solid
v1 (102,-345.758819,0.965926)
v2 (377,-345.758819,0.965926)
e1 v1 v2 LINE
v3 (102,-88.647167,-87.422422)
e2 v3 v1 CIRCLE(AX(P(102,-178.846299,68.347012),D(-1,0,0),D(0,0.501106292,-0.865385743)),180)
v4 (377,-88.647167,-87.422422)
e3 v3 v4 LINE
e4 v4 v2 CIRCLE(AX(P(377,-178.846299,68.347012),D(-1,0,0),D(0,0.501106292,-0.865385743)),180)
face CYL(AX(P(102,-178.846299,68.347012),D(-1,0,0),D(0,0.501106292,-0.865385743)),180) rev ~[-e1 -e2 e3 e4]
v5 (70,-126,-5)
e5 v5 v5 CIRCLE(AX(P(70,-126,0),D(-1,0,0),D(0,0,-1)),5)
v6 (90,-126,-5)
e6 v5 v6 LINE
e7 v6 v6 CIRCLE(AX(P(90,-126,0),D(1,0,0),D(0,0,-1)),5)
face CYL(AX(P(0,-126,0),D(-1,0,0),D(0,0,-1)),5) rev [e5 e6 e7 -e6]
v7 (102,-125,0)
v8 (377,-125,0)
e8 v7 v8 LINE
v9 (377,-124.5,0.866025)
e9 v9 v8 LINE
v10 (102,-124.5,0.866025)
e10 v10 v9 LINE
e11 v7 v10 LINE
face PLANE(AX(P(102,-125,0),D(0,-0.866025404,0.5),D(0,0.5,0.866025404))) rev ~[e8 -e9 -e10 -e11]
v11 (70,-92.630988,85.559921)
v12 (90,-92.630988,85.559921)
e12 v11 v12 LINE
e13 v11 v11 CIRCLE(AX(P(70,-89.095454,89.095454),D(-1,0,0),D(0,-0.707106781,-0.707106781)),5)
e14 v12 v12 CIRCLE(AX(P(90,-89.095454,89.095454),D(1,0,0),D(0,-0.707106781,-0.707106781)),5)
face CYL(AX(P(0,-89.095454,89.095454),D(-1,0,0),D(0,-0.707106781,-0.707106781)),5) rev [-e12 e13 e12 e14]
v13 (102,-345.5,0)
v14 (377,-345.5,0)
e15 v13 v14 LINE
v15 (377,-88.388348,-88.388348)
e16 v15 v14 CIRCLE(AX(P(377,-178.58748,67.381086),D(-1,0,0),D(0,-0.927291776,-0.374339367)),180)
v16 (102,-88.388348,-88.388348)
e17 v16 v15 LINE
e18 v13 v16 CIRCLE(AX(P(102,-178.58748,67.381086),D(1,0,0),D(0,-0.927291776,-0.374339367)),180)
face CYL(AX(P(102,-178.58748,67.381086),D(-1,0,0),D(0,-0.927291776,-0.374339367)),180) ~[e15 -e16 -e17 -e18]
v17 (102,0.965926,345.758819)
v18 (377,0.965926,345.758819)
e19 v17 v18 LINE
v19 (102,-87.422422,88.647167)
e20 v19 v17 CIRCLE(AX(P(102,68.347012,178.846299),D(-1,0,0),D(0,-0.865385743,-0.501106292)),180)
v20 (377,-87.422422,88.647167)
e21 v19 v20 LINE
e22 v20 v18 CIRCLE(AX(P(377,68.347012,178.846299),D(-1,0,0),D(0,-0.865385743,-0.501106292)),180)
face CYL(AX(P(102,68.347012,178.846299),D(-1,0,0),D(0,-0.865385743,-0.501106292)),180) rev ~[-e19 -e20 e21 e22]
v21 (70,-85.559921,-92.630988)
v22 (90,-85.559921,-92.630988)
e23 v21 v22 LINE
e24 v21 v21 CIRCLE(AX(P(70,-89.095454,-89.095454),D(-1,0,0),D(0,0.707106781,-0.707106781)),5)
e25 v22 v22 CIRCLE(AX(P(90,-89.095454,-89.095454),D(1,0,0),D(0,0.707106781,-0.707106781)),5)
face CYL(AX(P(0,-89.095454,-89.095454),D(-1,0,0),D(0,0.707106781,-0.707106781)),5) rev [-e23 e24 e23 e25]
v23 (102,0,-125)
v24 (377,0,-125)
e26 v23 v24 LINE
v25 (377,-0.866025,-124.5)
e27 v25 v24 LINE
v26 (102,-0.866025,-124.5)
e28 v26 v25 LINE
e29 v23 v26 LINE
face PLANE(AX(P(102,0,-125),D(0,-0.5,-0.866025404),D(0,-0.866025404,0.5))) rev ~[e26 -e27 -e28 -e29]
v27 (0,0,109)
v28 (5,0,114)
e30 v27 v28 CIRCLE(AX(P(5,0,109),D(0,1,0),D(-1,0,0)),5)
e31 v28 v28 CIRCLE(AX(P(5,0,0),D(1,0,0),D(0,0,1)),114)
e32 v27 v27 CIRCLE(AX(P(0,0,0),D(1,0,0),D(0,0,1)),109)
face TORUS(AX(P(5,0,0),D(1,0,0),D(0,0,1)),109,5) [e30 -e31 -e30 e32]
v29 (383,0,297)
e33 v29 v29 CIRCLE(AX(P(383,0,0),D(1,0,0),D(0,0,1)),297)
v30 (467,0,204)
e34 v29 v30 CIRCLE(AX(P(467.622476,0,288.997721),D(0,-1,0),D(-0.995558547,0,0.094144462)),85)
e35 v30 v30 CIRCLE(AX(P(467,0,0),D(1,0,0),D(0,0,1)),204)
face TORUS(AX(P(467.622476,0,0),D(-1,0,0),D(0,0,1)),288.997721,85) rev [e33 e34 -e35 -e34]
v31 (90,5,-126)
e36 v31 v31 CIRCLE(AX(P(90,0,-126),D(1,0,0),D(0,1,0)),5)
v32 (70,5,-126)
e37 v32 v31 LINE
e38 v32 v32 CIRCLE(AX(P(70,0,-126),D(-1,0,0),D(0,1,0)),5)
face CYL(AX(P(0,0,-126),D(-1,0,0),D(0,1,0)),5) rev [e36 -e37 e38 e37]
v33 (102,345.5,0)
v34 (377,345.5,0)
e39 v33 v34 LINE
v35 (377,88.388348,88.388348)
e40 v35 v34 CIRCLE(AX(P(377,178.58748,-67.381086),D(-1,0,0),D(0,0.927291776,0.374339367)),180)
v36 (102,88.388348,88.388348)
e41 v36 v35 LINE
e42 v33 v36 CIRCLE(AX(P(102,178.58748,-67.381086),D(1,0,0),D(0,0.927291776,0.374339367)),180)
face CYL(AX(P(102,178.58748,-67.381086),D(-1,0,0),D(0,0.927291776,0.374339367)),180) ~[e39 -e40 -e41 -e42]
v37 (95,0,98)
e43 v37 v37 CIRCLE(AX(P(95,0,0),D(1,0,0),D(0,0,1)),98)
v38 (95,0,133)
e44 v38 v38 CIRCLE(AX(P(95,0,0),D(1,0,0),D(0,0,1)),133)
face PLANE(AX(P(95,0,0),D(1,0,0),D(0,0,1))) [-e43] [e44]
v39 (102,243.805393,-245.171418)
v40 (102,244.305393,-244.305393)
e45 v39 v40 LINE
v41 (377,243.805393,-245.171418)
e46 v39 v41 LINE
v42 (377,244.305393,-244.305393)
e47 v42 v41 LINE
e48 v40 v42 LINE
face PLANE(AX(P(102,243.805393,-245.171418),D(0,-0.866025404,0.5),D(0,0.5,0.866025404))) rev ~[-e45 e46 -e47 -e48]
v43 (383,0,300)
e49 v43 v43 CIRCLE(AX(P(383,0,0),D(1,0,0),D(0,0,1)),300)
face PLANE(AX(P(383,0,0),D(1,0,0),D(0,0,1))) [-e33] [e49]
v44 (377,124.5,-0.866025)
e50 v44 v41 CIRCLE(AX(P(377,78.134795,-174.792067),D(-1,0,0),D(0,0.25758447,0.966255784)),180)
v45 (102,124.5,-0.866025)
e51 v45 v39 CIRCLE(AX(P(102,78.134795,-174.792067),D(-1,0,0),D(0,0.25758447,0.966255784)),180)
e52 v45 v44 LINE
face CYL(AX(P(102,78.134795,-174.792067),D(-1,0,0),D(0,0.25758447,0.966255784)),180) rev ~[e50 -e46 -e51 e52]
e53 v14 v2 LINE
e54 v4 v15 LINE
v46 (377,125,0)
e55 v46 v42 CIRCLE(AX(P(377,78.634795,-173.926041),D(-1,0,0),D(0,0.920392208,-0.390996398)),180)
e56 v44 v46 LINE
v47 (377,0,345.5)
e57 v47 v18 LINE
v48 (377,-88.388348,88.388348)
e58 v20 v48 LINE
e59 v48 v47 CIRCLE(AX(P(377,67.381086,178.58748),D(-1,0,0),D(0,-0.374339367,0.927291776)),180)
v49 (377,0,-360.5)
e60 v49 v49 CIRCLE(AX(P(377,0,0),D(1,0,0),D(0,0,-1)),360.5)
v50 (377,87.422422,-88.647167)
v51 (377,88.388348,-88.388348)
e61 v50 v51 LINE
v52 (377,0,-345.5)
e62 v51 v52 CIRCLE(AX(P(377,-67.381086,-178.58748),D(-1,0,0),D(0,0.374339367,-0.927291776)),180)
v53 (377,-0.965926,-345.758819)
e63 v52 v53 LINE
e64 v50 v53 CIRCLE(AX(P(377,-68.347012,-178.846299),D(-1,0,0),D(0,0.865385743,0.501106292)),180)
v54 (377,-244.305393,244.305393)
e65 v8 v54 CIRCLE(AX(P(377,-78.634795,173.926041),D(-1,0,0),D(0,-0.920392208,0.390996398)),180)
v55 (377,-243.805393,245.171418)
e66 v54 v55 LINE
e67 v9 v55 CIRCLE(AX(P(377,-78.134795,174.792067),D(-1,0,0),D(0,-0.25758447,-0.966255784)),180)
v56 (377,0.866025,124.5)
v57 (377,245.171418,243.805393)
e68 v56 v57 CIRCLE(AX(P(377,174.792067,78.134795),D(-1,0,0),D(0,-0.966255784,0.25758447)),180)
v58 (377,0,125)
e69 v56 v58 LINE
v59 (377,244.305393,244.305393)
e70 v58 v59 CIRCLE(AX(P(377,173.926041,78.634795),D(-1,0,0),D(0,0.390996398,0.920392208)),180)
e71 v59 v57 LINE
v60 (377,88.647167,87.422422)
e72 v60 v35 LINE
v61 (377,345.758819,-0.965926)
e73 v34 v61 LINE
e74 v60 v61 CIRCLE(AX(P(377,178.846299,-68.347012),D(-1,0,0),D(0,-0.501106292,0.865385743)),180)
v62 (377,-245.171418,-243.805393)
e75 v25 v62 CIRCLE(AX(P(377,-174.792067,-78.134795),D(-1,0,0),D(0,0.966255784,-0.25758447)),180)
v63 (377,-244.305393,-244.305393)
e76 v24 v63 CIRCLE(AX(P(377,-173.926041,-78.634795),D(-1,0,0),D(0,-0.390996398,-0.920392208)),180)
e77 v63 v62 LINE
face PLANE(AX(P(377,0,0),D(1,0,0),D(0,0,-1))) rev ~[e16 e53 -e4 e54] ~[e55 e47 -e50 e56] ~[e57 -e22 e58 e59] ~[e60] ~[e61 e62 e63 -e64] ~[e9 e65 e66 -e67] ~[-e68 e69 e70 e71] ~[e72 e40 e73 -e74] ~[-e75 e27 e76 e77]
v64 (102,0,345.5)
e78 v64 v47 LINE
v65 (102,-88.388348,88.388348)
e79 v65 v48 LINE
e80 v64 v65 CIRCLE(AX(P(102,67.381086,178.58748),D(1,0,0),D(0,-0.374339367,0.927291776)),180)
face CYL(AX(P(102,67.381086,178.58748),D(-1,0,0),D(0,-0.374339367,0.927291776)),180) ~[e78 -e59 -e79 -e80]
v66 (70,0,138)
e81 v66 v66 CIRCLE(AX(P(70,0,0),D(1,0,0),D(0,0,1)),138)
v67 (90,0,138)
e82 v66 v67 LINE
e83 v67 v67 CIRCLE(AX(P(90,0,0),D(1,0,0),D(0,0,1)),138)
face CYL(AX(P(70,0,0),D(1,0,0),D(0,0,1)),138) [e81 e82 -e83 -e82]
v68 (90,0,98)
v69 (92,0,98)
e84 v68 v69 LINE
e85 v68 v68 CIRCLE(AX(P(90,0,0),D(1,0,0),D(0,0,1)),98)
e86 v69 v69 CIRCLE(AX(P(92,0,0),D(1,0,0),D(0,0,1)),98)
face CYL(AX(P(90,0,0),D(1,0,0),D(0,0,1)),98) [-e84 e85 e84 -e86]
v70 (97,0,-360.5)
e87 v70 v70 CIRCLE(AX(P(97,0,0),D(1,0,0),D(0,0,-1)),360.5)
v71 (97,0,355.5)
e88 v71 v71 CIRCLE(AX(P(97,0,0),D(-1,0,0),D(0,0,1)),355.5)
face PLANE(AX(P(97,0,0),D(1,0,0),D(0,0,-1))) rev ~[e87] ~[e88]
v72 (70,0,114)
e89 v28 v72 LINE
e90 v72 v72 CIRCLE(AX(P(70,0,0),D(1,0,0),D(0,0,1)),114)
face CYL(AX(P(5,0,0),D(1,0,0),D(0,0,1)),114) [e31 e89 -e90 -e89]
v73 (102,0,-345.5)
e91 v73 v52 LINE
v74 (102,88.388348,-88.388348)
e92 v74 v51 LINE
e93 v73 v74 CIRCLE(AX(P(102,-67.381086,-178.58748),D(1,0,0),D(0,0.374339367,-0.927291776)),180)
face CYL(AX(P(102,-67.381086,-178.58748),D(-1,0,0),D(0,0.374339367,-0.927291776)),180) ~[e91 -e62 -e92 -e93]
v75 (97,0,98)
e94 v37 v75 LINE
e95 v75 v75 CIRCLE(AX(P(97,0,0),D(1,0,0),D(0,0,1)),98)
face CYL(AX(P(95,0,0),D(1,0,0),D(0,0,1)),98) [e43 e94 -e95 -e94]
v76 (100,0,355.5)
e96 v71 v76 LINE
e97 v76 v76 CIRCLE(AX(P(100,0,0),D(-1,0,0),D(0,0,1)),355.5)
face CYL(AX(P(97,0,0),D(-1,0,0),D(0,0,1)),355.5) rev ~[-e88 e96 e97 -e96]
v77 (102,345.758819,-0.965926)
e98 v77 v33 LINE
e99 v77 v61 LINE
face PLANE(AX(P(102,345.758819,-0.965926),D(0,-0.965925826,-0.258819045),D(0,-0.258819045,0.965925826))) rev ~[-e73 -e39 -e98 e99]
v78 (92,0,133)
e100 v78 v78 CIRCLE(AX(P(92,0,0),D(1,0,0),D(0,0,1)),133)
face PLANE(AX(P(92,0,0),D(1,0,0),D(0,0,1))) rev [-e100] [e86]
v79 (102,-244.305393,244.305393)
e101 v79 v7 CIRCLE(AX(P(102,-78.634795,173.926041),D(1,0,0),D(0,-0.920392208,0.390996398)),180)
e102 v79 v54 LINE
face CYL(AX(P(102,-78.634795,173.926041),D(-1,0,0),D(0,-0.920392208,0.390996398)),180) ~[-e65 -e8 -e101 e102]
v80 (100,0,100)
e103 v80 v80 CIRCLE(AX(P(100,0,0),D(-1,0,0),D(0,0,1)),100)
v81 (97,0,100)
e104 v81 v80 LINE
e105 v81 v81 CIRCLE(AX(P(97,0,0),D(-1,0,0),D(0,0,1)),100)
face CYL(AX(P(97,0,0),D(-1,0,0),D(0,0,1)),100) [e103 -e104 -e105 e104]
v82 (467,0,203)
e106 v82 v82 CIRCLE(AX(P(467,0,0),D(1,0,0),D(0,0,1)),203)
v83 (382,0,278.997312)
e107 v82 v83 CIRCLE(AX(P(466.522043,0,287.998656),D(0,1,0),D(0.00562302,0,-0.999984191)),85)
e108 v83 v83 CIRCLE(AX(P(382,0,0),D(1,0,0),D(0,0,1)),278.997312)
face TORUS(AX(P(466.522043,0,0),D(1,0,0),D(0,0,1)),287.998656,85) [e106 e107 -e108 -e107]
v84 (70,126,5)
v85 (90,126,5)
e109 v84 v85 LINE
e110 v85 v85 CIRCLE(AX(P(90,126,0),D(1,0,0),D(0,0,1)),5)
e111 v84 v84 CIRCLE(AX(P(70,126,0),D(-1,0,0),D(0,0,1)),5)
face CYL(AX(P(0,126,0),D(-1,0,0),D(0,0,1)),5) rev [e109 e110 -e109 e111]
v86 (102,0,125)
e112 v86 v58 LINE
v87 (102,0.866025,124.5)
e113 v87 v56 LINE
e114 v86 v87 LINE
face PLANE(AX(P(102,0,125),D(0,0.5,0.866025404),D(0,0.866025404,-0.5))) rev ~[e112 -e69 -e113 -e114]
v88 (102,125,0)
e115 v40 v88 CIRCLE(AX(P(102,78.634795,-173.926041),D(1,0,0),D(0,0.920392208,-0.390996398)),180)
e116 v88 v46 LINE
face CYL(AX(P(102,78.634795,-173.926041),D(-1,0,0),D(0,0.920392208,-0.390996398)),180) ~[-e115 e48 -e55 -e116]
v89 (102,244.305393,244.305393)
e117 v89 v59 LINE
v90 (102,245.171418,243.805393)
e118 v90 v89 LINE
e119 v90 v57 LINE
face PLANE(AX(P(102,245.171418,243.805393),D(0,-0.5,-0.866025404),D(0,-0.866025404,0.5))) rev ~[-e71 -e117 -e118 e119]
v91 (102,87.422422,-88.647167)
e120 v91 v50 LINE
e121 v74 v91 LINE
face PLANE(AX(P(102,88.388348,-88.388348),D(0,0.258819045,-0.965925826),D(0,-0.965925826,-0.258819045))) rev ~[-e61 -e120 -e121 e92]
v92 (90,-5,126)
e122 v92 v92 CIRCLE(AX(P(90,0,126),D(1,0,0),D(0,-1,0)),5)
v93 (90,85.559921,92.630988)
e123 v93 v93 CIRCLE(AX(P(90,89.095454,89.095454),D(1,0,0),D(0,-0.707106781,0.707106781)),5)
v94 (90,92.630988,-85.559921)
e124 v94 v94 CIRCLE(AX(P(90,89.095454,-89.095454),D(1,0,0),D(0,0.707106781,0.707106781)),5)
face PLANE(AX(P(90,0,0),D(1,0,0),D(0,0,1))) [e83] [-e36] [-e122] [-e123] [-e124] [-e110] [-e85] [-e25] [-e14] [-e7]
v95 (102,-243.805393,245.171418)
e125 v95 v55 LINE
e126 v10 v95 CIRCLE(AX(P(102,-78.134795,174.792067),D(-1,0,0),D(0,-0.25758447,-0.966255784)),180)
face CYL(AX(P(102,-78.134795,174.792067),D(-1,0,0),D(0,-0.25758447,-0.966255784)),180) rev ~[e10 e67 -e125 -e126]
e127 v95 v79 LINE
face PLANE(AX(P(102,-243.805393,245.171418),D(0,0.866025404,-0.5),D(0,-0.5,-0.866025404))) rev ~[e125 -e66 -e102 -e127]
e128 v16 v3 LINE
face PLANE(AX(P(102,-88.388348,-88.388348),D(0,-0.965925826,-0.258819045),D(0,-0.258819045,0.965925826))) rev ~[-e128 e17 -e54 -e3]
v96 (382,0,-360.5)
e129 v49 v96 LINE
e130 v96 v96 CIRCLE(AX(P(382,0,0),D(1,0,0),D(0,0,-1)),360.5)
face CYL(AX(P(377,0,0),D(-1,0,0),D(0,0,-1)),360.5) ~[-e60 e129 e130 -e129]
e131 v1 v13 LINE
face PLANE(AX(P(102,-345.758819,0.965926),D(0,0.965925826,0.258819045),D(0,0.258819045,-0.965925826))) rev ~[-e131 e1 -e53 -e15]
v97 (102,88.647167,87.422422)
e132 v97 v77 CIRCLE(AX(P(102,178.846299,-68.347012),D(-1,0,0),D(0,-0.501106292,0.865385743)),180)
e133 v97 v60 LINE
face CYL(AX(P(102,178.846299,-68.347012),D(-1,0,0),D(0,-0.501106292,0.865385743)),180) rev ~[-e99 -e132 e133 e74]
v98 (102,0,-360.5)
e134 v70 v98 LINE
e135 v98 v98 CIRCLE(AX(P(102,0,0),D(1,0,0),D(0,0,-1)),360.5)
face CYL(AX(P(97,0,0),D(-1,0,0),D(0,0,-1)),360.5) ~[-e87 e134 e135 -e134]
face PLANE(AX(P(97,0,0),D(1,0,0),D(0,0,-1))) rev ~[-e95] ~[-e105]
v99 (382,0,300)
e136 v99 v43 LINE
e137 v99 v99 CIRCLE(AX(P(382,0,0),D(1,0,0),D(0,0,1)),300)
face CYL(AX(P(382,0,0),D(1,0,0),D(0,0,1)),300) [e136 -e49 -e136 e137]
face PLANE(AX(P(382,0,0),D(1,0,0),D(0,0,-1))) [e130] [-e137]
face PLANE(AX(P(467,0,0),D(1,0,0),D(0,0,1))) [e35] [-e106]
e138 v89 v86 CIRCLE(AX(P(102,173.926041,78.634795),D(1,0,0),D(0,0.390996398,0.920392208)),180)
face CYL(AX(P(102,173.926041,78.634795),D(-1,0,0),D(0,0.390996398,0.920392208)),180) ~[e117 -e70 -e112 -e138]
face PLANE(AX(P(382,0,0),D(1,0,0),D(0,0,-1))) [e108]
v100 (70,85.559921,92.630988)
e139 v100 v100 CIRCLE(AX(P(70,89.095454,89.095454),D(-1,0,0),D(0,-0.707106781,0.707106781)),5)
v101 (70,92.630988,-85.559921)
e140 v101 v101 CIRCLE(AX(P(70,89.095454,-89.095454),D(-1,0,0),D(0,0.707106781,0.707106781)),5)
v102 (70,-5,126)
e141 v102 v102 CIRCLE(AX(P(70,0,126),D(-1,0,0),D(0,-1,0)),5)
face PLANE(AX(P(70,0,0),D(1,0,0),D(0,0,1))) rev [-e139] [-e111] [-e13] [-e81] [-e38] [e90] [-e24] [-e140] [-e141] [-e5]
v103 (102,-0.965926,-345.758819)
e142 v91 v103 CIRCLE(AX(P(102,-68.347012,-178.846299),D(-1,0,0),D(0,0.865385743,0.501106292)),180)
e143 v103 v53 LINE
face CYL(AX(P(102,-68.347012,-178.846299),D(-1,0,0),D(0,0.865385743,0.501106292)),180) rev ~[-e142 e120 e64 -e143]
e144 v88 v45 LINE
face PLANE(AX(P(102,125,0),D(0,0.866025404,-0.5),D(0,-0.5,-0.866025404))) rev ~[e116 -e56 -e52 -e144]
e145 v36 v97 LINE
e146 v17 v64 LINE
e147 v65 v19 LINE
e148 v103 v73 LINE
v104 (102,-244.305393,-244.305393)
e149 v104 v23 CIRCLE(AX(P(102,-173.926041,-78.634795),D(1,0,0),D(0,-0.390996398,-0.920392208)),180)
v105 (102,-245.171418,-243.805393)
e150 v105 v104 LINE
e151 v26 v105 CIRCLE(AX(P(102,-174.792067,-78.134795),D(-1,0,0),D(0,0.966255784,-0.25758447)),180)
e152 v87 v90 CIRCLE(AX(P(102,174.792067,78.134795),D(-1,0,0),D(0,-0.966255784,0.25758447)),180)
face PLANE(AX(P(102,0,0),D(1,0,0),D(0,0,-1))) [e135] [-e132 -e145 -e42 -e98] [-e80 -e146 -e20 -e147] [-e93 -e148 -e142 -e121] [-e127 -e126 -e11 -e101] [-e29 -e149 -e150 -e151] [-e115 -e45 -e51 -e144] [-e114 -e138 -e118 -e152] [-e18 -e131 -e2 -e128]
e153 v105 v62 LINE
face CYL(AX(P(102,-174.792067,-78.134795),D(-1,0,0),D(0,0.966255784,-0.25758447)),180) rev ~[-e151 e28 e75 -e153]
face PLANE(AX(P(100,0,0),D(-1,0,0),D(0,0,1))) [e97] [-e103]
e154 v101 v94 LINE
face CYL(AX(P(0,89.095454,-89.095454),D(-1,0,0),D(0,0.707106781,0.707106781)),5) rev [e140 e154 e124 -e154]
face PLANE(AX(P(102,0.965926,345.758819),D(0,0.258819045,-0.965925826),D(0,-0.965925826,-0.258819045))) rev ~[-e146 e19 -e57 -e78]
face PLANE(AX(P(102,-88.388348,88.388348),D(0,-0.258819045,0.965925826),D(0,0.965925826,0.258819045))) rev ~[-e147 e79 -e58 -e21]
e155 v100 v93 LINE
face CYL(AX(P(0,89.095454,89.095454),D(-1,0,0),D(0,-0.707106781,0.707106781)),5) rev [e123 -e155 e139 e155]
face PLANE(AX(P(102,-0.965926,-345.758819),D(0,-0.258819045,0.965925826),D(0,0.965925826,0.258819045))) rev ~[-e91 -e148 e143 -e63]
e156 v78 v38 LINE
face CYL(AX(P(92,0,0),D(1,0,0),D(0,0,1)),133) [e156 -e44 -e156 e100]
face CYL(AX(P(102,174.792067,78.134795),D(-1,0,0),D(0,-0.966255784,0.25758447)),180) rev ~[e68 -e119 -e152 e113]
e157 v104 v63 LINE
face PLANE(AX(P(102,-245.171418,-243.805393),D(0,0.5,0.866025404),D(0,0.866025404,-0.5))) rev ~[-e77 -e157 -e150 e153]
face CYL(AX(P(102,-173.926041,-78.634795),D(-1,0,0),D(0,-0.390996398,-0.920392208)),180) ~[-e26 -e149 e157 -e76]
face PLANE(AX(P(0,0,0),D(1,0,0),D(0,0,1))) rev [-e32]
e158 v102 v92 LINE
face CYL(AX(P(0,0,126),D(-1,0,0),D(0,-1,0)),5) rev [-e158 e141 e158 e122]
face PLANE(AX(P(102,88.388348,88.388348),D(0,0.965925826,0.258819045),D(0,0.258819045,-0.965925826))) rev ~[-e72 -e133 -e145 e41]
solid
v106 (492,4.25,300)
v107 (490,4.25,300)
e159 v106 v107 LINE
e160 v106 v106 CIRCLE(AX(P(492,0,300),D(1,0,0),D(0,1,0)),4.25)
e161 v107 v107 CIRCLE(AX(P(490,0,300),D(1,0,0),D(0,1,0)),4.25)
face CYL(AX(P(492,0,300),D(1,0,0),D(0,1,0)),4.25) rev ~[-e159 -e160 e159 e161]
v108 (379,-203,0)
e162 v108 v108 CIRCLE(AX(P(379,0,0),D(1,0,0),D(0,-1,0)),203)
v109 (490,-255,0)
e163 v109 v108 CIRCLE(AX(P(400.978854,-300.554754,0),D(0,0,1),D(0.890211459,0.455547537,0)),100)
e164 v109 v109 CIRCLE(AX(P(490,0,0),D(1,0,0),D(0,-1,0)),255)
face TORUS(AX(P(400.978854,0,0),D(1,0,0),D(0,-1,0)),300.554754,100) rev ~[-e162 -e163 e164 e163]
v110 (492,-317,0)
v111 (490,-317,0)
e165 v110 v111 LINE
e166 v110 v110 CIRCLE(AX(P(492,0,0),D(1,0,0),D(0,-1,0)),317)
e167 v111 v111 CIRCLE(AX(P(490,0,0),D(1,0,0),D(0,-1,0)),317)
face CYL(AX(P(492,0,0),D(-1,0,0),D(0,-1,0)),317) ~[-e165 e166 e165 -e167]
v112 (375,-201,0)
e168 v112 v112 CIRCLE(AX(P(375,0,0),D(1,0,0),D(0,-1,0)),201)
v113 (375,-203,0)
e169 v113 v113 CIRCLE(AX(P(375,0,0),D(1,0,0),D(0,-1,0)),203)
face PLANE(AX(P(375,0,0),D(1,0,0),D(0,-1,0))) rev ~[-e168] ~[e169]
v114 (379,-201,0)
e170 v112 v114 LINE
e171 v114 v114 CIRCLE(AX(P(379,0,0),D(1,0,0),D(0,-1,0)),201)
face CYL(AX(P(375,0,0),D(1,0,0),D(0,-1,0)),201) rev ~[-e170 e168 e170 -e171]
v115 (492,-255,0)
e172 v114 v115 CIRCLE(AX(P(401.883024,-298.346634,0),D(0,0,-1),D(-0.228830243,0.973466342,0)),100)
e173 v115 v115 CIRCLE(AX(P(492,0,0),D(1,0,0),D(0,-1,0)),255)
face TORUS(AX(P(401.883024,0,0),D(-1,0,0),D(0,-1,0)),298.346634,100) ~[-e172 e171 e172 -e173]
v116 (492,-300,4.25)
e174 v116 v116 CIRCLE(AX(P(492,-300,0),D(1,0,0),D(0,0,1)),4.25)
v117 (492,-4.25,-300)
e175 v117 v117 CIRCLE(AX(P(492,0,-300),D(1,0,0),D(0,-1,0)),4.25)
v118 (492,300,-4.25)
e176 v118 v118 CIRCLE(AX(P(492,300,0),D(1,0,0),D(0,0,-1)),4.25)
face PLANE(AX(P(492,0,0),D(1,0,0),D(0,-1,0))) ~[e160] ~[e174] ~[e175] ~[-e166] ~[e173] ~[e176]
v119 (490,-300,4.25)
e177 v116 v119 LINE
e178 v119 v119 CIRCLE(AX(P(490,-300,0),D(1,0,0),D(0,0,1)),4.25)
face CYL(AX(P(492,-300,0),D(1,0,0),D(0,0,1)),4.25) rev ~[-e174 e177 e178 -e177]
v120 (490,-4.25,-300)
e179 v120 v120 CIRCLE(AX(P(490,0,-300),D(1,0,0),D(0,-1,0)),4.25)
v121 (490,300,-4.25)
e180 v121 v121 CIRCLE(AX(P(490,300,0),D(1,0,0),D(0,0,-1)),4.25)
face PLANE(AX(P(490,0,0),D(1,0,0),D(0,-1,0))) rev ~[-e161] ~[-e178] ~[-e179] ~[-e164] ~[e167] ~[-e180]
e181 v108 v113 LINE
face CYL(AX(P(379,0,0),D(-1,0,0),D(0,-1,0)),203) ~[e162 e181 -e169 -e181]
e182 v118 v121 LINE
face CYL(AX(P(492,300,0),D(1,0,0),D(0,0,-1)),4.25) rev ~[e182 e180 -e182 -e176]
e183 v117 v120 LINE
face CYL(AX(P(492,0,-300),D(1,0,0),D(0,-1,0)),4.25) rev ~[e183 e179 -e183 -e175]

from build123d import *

# Parameters (mm, degrees)
SKETCH2_R         = 360.5
EXTRUDE1_DEPTH    = 5
SKETCH9_R         = 355.5
SKETCH9_R_2       = 100
EXTRUDE7_DEPTH    = 3
SKETCH3_R         = 360.5
EXTRUDE2_DEPTH    = 5
EXTRUDE3_DEPTH    = 280
CIRPATTERN1_COUNT = 8
SKETCH7_R         = 4.25
EXTRUDE5_DEPTH    = 5
CIRPATTERN2_COUNT = 4
SKETCH8_R         = 5
EXTRUDE6_DEPTH    = 90
CIRPATTERN3_COUNT = 8


with BuildPart() as part:
    # Sketch1 → Revolve1 (revolve)
    with BuildSketch(Plane.XY, mode=Mode.PRIVATE) as revolve1_sk:
        with BuildLine():
            Line((0, 0), (0, 109))
            ThreePointArc((0, 109), (1.464466094, 112.535533906), (5, 114))
            Line((5, 114), (70, 114))
            Line((70, 114), (70, 138))
            Line((70, 138), (90, 138))
            Line((90, 138), (90, 98))
            Line((90, 98), (92, 98))
            Line((92, 98), (92, 133))
            Line((92, 133), (95, 133))
            Line((95, 133), (95, 98))
            Line((95, 98), (97, 98))
            Line((97, 98), (97, 0))
            Line((97, 0), (0, 0))
        make_face()
    revolve(revolve1_sk.sketch.rotate(Axis((0, 0, 0), (1, 0, 0)), 90), axis=Axis((0, 0, 0), (1, 0, 0)))

    # Sketch2 → Extrude1 (add)
    with BuildSketch(Plane(origin=(97, 0, 0), x_dir=(0, 0, -1), z_dir=(1, 0, 0))):
        Circle(SKETCH2_R)
    extrude(amount=EXTRUDE1_DEPTH)

    # Sketch9 → Extrude7 (cut)
    with BuildSketch(Plane.ZY.offset(-97)):
        Circle(SKETCH9_R)
        Circle(SKETCH9_R_2, mode=Mode.SUBTRACT)
    extrude(amount=-EXTRUDE7_DEPTH, mode=Mode.SUBTRACT)



with BuildPart() as body_2:
    # Sketch3 → Extrude2 (new body)
    with BuildSketch(Plane(origin=(377, 0, 0), x_dir=(0, 0, -1), z_dir=(1, 0, 0))):
        Circle(SKETCH3_R)
    extrude(amount=EXTRUDE2_DEPTH)


with BuildPart() as part_1:
    add(part.part)

    add(body_2.part)  # Extrude3 merges body 2
    # Sketch4 → Extrude3 (add)
    with BuildSketch(Plane(origin=(102, 0, 0), x_dir=(0, 0, -1), z_dir=(1, 0, 0))):
        with BuildLine():
            Line((0, 125), (0.866025404, 124.5))
            ThreePointArc((0.866025404, 124.5), (95.805210607, 239.87865649), (245.171418304, 243.8053929))
            Line((245.171418304, 243.8053929), (244.3053929, 244.3053929))
            ThreePointArc((244.3053929, 244.3053929), (94.939185203, 240.37865649), (0, 125))
        make_face()
    extrude3 = extrude(amount=EXTRUDE3_DEPTH)

    # CirPattern1: Extrude3 ×8 about axis
    cirpattern1_axis = Axis((0, 0, 0), (1, 0, 0))
    for i in range(1, CIRPATTERN1_COUNT):
        add(extrude3.rotate(cirpattern1_axis, i * 360 / CIRPATTERN1_COUNT))

    # Sketch5 → Revolve2 (revolve)
    with BuildSketch(Plane.XY, mode=Mode.PRIVATE) as revolve2_sk:
        with BuildLine():
            Line((382, 300), (383, 300))
            Line((383, 300), (383, 297))
            ThreePointArc((383, 297), (404.543751848, 232.023388766), (467, 204))
            Line((467, 204), (467, 203))
            ThreePointArc((467, 203), (403.475614999, 230.988588031), (382, 297))
            Line((382, 297), (382, 300))
        make_face()
    revolve(revolve2_sk.sketch.rotate(Axis((0, 0, 0), (1, 0, 0)), 90), axis=Axis((0, 0, 0), (1, 0, 0)))

    # Sketch8 → Extrude6 (cut)
    with BuildSketch(Plane(origin=(0, 0, 0), x_dir=(0, 0, -1), z_dir=(1, 0, 0))):
        with Locations(Location((0, 126, 0), (0, 0, 180))):
            Circle(SKETCH8_R)
    extrude6 = extrude(amount=EXTRUDE6_DEPTH, mode=Mode.SUBTRACT)

    # CirPattern3: Extrude6 ×8 about axis
    cirpattern3_axis = Axis((0, 0, 0), (1, 0, 0))
    for i in range(1, CIRPATTERN3_COUNT):
        add(extrude6.rotate(cirpattern3_axis, i * 360 / CIRPATTERN3_COUNT), mode=Mode.SUBTRACT)


with BuildPart() as body_2_2:
    # Sketch6 → Revolve3 (revolve)
    with BuildSketch(Plane.XY, mode=Mode.PRIVATE) as revolve3_sk:
        with BuildLine():
            Line((492, 317), (490, 317))
            Line((490, 317), (490, 255))
            ThreePointArc((490, 255), (443.401338972, 209.999064886), (379, 203))
            Line((379, 203), (375, 203))
            Line((375, 203), (375, 201))
            Line((375, 201), (379, 201))
            ThreePointArc((379, 201), (445.000318465, 208.119703952), (492, 255))
            Line((492, 255), (492, 317))
        make_face()
    revolve(revolve3_sk.sketch.rotate(Axis((0, 0, 0), (1, 0, 0)), 180), axis=Axis((0, 0, 0), (1, 0, 0)))

    # Sketch7 → Extrude5 (cut)
    with BuildSketch(Plane(origin=(492, 0, 0), x_dir=(0, 0, -1), z_dir=(1, 0, 0))):
        with Locations((0, 300)):
            Circle(SKETCH7_R)
    extrude5 = extrude(amount=-EXTRUDE5_DEPTH, mode=Mode.SUBTRACT)

    # CirPattern2: Extrude5 ×4 about axis
    cirpattern2_axis = Axis((0, 0, 0), (1, 0, 0))
    for i in range(1, CIRPATTERN2_COUNT):
        add(extrude5.rotate(cirpattern2_axis, i * 360 / CIRPATTERN2_COUNT), mode=Mode.SUBTRACT)


solid = Compound([part_1.part, body_2_2.part])
